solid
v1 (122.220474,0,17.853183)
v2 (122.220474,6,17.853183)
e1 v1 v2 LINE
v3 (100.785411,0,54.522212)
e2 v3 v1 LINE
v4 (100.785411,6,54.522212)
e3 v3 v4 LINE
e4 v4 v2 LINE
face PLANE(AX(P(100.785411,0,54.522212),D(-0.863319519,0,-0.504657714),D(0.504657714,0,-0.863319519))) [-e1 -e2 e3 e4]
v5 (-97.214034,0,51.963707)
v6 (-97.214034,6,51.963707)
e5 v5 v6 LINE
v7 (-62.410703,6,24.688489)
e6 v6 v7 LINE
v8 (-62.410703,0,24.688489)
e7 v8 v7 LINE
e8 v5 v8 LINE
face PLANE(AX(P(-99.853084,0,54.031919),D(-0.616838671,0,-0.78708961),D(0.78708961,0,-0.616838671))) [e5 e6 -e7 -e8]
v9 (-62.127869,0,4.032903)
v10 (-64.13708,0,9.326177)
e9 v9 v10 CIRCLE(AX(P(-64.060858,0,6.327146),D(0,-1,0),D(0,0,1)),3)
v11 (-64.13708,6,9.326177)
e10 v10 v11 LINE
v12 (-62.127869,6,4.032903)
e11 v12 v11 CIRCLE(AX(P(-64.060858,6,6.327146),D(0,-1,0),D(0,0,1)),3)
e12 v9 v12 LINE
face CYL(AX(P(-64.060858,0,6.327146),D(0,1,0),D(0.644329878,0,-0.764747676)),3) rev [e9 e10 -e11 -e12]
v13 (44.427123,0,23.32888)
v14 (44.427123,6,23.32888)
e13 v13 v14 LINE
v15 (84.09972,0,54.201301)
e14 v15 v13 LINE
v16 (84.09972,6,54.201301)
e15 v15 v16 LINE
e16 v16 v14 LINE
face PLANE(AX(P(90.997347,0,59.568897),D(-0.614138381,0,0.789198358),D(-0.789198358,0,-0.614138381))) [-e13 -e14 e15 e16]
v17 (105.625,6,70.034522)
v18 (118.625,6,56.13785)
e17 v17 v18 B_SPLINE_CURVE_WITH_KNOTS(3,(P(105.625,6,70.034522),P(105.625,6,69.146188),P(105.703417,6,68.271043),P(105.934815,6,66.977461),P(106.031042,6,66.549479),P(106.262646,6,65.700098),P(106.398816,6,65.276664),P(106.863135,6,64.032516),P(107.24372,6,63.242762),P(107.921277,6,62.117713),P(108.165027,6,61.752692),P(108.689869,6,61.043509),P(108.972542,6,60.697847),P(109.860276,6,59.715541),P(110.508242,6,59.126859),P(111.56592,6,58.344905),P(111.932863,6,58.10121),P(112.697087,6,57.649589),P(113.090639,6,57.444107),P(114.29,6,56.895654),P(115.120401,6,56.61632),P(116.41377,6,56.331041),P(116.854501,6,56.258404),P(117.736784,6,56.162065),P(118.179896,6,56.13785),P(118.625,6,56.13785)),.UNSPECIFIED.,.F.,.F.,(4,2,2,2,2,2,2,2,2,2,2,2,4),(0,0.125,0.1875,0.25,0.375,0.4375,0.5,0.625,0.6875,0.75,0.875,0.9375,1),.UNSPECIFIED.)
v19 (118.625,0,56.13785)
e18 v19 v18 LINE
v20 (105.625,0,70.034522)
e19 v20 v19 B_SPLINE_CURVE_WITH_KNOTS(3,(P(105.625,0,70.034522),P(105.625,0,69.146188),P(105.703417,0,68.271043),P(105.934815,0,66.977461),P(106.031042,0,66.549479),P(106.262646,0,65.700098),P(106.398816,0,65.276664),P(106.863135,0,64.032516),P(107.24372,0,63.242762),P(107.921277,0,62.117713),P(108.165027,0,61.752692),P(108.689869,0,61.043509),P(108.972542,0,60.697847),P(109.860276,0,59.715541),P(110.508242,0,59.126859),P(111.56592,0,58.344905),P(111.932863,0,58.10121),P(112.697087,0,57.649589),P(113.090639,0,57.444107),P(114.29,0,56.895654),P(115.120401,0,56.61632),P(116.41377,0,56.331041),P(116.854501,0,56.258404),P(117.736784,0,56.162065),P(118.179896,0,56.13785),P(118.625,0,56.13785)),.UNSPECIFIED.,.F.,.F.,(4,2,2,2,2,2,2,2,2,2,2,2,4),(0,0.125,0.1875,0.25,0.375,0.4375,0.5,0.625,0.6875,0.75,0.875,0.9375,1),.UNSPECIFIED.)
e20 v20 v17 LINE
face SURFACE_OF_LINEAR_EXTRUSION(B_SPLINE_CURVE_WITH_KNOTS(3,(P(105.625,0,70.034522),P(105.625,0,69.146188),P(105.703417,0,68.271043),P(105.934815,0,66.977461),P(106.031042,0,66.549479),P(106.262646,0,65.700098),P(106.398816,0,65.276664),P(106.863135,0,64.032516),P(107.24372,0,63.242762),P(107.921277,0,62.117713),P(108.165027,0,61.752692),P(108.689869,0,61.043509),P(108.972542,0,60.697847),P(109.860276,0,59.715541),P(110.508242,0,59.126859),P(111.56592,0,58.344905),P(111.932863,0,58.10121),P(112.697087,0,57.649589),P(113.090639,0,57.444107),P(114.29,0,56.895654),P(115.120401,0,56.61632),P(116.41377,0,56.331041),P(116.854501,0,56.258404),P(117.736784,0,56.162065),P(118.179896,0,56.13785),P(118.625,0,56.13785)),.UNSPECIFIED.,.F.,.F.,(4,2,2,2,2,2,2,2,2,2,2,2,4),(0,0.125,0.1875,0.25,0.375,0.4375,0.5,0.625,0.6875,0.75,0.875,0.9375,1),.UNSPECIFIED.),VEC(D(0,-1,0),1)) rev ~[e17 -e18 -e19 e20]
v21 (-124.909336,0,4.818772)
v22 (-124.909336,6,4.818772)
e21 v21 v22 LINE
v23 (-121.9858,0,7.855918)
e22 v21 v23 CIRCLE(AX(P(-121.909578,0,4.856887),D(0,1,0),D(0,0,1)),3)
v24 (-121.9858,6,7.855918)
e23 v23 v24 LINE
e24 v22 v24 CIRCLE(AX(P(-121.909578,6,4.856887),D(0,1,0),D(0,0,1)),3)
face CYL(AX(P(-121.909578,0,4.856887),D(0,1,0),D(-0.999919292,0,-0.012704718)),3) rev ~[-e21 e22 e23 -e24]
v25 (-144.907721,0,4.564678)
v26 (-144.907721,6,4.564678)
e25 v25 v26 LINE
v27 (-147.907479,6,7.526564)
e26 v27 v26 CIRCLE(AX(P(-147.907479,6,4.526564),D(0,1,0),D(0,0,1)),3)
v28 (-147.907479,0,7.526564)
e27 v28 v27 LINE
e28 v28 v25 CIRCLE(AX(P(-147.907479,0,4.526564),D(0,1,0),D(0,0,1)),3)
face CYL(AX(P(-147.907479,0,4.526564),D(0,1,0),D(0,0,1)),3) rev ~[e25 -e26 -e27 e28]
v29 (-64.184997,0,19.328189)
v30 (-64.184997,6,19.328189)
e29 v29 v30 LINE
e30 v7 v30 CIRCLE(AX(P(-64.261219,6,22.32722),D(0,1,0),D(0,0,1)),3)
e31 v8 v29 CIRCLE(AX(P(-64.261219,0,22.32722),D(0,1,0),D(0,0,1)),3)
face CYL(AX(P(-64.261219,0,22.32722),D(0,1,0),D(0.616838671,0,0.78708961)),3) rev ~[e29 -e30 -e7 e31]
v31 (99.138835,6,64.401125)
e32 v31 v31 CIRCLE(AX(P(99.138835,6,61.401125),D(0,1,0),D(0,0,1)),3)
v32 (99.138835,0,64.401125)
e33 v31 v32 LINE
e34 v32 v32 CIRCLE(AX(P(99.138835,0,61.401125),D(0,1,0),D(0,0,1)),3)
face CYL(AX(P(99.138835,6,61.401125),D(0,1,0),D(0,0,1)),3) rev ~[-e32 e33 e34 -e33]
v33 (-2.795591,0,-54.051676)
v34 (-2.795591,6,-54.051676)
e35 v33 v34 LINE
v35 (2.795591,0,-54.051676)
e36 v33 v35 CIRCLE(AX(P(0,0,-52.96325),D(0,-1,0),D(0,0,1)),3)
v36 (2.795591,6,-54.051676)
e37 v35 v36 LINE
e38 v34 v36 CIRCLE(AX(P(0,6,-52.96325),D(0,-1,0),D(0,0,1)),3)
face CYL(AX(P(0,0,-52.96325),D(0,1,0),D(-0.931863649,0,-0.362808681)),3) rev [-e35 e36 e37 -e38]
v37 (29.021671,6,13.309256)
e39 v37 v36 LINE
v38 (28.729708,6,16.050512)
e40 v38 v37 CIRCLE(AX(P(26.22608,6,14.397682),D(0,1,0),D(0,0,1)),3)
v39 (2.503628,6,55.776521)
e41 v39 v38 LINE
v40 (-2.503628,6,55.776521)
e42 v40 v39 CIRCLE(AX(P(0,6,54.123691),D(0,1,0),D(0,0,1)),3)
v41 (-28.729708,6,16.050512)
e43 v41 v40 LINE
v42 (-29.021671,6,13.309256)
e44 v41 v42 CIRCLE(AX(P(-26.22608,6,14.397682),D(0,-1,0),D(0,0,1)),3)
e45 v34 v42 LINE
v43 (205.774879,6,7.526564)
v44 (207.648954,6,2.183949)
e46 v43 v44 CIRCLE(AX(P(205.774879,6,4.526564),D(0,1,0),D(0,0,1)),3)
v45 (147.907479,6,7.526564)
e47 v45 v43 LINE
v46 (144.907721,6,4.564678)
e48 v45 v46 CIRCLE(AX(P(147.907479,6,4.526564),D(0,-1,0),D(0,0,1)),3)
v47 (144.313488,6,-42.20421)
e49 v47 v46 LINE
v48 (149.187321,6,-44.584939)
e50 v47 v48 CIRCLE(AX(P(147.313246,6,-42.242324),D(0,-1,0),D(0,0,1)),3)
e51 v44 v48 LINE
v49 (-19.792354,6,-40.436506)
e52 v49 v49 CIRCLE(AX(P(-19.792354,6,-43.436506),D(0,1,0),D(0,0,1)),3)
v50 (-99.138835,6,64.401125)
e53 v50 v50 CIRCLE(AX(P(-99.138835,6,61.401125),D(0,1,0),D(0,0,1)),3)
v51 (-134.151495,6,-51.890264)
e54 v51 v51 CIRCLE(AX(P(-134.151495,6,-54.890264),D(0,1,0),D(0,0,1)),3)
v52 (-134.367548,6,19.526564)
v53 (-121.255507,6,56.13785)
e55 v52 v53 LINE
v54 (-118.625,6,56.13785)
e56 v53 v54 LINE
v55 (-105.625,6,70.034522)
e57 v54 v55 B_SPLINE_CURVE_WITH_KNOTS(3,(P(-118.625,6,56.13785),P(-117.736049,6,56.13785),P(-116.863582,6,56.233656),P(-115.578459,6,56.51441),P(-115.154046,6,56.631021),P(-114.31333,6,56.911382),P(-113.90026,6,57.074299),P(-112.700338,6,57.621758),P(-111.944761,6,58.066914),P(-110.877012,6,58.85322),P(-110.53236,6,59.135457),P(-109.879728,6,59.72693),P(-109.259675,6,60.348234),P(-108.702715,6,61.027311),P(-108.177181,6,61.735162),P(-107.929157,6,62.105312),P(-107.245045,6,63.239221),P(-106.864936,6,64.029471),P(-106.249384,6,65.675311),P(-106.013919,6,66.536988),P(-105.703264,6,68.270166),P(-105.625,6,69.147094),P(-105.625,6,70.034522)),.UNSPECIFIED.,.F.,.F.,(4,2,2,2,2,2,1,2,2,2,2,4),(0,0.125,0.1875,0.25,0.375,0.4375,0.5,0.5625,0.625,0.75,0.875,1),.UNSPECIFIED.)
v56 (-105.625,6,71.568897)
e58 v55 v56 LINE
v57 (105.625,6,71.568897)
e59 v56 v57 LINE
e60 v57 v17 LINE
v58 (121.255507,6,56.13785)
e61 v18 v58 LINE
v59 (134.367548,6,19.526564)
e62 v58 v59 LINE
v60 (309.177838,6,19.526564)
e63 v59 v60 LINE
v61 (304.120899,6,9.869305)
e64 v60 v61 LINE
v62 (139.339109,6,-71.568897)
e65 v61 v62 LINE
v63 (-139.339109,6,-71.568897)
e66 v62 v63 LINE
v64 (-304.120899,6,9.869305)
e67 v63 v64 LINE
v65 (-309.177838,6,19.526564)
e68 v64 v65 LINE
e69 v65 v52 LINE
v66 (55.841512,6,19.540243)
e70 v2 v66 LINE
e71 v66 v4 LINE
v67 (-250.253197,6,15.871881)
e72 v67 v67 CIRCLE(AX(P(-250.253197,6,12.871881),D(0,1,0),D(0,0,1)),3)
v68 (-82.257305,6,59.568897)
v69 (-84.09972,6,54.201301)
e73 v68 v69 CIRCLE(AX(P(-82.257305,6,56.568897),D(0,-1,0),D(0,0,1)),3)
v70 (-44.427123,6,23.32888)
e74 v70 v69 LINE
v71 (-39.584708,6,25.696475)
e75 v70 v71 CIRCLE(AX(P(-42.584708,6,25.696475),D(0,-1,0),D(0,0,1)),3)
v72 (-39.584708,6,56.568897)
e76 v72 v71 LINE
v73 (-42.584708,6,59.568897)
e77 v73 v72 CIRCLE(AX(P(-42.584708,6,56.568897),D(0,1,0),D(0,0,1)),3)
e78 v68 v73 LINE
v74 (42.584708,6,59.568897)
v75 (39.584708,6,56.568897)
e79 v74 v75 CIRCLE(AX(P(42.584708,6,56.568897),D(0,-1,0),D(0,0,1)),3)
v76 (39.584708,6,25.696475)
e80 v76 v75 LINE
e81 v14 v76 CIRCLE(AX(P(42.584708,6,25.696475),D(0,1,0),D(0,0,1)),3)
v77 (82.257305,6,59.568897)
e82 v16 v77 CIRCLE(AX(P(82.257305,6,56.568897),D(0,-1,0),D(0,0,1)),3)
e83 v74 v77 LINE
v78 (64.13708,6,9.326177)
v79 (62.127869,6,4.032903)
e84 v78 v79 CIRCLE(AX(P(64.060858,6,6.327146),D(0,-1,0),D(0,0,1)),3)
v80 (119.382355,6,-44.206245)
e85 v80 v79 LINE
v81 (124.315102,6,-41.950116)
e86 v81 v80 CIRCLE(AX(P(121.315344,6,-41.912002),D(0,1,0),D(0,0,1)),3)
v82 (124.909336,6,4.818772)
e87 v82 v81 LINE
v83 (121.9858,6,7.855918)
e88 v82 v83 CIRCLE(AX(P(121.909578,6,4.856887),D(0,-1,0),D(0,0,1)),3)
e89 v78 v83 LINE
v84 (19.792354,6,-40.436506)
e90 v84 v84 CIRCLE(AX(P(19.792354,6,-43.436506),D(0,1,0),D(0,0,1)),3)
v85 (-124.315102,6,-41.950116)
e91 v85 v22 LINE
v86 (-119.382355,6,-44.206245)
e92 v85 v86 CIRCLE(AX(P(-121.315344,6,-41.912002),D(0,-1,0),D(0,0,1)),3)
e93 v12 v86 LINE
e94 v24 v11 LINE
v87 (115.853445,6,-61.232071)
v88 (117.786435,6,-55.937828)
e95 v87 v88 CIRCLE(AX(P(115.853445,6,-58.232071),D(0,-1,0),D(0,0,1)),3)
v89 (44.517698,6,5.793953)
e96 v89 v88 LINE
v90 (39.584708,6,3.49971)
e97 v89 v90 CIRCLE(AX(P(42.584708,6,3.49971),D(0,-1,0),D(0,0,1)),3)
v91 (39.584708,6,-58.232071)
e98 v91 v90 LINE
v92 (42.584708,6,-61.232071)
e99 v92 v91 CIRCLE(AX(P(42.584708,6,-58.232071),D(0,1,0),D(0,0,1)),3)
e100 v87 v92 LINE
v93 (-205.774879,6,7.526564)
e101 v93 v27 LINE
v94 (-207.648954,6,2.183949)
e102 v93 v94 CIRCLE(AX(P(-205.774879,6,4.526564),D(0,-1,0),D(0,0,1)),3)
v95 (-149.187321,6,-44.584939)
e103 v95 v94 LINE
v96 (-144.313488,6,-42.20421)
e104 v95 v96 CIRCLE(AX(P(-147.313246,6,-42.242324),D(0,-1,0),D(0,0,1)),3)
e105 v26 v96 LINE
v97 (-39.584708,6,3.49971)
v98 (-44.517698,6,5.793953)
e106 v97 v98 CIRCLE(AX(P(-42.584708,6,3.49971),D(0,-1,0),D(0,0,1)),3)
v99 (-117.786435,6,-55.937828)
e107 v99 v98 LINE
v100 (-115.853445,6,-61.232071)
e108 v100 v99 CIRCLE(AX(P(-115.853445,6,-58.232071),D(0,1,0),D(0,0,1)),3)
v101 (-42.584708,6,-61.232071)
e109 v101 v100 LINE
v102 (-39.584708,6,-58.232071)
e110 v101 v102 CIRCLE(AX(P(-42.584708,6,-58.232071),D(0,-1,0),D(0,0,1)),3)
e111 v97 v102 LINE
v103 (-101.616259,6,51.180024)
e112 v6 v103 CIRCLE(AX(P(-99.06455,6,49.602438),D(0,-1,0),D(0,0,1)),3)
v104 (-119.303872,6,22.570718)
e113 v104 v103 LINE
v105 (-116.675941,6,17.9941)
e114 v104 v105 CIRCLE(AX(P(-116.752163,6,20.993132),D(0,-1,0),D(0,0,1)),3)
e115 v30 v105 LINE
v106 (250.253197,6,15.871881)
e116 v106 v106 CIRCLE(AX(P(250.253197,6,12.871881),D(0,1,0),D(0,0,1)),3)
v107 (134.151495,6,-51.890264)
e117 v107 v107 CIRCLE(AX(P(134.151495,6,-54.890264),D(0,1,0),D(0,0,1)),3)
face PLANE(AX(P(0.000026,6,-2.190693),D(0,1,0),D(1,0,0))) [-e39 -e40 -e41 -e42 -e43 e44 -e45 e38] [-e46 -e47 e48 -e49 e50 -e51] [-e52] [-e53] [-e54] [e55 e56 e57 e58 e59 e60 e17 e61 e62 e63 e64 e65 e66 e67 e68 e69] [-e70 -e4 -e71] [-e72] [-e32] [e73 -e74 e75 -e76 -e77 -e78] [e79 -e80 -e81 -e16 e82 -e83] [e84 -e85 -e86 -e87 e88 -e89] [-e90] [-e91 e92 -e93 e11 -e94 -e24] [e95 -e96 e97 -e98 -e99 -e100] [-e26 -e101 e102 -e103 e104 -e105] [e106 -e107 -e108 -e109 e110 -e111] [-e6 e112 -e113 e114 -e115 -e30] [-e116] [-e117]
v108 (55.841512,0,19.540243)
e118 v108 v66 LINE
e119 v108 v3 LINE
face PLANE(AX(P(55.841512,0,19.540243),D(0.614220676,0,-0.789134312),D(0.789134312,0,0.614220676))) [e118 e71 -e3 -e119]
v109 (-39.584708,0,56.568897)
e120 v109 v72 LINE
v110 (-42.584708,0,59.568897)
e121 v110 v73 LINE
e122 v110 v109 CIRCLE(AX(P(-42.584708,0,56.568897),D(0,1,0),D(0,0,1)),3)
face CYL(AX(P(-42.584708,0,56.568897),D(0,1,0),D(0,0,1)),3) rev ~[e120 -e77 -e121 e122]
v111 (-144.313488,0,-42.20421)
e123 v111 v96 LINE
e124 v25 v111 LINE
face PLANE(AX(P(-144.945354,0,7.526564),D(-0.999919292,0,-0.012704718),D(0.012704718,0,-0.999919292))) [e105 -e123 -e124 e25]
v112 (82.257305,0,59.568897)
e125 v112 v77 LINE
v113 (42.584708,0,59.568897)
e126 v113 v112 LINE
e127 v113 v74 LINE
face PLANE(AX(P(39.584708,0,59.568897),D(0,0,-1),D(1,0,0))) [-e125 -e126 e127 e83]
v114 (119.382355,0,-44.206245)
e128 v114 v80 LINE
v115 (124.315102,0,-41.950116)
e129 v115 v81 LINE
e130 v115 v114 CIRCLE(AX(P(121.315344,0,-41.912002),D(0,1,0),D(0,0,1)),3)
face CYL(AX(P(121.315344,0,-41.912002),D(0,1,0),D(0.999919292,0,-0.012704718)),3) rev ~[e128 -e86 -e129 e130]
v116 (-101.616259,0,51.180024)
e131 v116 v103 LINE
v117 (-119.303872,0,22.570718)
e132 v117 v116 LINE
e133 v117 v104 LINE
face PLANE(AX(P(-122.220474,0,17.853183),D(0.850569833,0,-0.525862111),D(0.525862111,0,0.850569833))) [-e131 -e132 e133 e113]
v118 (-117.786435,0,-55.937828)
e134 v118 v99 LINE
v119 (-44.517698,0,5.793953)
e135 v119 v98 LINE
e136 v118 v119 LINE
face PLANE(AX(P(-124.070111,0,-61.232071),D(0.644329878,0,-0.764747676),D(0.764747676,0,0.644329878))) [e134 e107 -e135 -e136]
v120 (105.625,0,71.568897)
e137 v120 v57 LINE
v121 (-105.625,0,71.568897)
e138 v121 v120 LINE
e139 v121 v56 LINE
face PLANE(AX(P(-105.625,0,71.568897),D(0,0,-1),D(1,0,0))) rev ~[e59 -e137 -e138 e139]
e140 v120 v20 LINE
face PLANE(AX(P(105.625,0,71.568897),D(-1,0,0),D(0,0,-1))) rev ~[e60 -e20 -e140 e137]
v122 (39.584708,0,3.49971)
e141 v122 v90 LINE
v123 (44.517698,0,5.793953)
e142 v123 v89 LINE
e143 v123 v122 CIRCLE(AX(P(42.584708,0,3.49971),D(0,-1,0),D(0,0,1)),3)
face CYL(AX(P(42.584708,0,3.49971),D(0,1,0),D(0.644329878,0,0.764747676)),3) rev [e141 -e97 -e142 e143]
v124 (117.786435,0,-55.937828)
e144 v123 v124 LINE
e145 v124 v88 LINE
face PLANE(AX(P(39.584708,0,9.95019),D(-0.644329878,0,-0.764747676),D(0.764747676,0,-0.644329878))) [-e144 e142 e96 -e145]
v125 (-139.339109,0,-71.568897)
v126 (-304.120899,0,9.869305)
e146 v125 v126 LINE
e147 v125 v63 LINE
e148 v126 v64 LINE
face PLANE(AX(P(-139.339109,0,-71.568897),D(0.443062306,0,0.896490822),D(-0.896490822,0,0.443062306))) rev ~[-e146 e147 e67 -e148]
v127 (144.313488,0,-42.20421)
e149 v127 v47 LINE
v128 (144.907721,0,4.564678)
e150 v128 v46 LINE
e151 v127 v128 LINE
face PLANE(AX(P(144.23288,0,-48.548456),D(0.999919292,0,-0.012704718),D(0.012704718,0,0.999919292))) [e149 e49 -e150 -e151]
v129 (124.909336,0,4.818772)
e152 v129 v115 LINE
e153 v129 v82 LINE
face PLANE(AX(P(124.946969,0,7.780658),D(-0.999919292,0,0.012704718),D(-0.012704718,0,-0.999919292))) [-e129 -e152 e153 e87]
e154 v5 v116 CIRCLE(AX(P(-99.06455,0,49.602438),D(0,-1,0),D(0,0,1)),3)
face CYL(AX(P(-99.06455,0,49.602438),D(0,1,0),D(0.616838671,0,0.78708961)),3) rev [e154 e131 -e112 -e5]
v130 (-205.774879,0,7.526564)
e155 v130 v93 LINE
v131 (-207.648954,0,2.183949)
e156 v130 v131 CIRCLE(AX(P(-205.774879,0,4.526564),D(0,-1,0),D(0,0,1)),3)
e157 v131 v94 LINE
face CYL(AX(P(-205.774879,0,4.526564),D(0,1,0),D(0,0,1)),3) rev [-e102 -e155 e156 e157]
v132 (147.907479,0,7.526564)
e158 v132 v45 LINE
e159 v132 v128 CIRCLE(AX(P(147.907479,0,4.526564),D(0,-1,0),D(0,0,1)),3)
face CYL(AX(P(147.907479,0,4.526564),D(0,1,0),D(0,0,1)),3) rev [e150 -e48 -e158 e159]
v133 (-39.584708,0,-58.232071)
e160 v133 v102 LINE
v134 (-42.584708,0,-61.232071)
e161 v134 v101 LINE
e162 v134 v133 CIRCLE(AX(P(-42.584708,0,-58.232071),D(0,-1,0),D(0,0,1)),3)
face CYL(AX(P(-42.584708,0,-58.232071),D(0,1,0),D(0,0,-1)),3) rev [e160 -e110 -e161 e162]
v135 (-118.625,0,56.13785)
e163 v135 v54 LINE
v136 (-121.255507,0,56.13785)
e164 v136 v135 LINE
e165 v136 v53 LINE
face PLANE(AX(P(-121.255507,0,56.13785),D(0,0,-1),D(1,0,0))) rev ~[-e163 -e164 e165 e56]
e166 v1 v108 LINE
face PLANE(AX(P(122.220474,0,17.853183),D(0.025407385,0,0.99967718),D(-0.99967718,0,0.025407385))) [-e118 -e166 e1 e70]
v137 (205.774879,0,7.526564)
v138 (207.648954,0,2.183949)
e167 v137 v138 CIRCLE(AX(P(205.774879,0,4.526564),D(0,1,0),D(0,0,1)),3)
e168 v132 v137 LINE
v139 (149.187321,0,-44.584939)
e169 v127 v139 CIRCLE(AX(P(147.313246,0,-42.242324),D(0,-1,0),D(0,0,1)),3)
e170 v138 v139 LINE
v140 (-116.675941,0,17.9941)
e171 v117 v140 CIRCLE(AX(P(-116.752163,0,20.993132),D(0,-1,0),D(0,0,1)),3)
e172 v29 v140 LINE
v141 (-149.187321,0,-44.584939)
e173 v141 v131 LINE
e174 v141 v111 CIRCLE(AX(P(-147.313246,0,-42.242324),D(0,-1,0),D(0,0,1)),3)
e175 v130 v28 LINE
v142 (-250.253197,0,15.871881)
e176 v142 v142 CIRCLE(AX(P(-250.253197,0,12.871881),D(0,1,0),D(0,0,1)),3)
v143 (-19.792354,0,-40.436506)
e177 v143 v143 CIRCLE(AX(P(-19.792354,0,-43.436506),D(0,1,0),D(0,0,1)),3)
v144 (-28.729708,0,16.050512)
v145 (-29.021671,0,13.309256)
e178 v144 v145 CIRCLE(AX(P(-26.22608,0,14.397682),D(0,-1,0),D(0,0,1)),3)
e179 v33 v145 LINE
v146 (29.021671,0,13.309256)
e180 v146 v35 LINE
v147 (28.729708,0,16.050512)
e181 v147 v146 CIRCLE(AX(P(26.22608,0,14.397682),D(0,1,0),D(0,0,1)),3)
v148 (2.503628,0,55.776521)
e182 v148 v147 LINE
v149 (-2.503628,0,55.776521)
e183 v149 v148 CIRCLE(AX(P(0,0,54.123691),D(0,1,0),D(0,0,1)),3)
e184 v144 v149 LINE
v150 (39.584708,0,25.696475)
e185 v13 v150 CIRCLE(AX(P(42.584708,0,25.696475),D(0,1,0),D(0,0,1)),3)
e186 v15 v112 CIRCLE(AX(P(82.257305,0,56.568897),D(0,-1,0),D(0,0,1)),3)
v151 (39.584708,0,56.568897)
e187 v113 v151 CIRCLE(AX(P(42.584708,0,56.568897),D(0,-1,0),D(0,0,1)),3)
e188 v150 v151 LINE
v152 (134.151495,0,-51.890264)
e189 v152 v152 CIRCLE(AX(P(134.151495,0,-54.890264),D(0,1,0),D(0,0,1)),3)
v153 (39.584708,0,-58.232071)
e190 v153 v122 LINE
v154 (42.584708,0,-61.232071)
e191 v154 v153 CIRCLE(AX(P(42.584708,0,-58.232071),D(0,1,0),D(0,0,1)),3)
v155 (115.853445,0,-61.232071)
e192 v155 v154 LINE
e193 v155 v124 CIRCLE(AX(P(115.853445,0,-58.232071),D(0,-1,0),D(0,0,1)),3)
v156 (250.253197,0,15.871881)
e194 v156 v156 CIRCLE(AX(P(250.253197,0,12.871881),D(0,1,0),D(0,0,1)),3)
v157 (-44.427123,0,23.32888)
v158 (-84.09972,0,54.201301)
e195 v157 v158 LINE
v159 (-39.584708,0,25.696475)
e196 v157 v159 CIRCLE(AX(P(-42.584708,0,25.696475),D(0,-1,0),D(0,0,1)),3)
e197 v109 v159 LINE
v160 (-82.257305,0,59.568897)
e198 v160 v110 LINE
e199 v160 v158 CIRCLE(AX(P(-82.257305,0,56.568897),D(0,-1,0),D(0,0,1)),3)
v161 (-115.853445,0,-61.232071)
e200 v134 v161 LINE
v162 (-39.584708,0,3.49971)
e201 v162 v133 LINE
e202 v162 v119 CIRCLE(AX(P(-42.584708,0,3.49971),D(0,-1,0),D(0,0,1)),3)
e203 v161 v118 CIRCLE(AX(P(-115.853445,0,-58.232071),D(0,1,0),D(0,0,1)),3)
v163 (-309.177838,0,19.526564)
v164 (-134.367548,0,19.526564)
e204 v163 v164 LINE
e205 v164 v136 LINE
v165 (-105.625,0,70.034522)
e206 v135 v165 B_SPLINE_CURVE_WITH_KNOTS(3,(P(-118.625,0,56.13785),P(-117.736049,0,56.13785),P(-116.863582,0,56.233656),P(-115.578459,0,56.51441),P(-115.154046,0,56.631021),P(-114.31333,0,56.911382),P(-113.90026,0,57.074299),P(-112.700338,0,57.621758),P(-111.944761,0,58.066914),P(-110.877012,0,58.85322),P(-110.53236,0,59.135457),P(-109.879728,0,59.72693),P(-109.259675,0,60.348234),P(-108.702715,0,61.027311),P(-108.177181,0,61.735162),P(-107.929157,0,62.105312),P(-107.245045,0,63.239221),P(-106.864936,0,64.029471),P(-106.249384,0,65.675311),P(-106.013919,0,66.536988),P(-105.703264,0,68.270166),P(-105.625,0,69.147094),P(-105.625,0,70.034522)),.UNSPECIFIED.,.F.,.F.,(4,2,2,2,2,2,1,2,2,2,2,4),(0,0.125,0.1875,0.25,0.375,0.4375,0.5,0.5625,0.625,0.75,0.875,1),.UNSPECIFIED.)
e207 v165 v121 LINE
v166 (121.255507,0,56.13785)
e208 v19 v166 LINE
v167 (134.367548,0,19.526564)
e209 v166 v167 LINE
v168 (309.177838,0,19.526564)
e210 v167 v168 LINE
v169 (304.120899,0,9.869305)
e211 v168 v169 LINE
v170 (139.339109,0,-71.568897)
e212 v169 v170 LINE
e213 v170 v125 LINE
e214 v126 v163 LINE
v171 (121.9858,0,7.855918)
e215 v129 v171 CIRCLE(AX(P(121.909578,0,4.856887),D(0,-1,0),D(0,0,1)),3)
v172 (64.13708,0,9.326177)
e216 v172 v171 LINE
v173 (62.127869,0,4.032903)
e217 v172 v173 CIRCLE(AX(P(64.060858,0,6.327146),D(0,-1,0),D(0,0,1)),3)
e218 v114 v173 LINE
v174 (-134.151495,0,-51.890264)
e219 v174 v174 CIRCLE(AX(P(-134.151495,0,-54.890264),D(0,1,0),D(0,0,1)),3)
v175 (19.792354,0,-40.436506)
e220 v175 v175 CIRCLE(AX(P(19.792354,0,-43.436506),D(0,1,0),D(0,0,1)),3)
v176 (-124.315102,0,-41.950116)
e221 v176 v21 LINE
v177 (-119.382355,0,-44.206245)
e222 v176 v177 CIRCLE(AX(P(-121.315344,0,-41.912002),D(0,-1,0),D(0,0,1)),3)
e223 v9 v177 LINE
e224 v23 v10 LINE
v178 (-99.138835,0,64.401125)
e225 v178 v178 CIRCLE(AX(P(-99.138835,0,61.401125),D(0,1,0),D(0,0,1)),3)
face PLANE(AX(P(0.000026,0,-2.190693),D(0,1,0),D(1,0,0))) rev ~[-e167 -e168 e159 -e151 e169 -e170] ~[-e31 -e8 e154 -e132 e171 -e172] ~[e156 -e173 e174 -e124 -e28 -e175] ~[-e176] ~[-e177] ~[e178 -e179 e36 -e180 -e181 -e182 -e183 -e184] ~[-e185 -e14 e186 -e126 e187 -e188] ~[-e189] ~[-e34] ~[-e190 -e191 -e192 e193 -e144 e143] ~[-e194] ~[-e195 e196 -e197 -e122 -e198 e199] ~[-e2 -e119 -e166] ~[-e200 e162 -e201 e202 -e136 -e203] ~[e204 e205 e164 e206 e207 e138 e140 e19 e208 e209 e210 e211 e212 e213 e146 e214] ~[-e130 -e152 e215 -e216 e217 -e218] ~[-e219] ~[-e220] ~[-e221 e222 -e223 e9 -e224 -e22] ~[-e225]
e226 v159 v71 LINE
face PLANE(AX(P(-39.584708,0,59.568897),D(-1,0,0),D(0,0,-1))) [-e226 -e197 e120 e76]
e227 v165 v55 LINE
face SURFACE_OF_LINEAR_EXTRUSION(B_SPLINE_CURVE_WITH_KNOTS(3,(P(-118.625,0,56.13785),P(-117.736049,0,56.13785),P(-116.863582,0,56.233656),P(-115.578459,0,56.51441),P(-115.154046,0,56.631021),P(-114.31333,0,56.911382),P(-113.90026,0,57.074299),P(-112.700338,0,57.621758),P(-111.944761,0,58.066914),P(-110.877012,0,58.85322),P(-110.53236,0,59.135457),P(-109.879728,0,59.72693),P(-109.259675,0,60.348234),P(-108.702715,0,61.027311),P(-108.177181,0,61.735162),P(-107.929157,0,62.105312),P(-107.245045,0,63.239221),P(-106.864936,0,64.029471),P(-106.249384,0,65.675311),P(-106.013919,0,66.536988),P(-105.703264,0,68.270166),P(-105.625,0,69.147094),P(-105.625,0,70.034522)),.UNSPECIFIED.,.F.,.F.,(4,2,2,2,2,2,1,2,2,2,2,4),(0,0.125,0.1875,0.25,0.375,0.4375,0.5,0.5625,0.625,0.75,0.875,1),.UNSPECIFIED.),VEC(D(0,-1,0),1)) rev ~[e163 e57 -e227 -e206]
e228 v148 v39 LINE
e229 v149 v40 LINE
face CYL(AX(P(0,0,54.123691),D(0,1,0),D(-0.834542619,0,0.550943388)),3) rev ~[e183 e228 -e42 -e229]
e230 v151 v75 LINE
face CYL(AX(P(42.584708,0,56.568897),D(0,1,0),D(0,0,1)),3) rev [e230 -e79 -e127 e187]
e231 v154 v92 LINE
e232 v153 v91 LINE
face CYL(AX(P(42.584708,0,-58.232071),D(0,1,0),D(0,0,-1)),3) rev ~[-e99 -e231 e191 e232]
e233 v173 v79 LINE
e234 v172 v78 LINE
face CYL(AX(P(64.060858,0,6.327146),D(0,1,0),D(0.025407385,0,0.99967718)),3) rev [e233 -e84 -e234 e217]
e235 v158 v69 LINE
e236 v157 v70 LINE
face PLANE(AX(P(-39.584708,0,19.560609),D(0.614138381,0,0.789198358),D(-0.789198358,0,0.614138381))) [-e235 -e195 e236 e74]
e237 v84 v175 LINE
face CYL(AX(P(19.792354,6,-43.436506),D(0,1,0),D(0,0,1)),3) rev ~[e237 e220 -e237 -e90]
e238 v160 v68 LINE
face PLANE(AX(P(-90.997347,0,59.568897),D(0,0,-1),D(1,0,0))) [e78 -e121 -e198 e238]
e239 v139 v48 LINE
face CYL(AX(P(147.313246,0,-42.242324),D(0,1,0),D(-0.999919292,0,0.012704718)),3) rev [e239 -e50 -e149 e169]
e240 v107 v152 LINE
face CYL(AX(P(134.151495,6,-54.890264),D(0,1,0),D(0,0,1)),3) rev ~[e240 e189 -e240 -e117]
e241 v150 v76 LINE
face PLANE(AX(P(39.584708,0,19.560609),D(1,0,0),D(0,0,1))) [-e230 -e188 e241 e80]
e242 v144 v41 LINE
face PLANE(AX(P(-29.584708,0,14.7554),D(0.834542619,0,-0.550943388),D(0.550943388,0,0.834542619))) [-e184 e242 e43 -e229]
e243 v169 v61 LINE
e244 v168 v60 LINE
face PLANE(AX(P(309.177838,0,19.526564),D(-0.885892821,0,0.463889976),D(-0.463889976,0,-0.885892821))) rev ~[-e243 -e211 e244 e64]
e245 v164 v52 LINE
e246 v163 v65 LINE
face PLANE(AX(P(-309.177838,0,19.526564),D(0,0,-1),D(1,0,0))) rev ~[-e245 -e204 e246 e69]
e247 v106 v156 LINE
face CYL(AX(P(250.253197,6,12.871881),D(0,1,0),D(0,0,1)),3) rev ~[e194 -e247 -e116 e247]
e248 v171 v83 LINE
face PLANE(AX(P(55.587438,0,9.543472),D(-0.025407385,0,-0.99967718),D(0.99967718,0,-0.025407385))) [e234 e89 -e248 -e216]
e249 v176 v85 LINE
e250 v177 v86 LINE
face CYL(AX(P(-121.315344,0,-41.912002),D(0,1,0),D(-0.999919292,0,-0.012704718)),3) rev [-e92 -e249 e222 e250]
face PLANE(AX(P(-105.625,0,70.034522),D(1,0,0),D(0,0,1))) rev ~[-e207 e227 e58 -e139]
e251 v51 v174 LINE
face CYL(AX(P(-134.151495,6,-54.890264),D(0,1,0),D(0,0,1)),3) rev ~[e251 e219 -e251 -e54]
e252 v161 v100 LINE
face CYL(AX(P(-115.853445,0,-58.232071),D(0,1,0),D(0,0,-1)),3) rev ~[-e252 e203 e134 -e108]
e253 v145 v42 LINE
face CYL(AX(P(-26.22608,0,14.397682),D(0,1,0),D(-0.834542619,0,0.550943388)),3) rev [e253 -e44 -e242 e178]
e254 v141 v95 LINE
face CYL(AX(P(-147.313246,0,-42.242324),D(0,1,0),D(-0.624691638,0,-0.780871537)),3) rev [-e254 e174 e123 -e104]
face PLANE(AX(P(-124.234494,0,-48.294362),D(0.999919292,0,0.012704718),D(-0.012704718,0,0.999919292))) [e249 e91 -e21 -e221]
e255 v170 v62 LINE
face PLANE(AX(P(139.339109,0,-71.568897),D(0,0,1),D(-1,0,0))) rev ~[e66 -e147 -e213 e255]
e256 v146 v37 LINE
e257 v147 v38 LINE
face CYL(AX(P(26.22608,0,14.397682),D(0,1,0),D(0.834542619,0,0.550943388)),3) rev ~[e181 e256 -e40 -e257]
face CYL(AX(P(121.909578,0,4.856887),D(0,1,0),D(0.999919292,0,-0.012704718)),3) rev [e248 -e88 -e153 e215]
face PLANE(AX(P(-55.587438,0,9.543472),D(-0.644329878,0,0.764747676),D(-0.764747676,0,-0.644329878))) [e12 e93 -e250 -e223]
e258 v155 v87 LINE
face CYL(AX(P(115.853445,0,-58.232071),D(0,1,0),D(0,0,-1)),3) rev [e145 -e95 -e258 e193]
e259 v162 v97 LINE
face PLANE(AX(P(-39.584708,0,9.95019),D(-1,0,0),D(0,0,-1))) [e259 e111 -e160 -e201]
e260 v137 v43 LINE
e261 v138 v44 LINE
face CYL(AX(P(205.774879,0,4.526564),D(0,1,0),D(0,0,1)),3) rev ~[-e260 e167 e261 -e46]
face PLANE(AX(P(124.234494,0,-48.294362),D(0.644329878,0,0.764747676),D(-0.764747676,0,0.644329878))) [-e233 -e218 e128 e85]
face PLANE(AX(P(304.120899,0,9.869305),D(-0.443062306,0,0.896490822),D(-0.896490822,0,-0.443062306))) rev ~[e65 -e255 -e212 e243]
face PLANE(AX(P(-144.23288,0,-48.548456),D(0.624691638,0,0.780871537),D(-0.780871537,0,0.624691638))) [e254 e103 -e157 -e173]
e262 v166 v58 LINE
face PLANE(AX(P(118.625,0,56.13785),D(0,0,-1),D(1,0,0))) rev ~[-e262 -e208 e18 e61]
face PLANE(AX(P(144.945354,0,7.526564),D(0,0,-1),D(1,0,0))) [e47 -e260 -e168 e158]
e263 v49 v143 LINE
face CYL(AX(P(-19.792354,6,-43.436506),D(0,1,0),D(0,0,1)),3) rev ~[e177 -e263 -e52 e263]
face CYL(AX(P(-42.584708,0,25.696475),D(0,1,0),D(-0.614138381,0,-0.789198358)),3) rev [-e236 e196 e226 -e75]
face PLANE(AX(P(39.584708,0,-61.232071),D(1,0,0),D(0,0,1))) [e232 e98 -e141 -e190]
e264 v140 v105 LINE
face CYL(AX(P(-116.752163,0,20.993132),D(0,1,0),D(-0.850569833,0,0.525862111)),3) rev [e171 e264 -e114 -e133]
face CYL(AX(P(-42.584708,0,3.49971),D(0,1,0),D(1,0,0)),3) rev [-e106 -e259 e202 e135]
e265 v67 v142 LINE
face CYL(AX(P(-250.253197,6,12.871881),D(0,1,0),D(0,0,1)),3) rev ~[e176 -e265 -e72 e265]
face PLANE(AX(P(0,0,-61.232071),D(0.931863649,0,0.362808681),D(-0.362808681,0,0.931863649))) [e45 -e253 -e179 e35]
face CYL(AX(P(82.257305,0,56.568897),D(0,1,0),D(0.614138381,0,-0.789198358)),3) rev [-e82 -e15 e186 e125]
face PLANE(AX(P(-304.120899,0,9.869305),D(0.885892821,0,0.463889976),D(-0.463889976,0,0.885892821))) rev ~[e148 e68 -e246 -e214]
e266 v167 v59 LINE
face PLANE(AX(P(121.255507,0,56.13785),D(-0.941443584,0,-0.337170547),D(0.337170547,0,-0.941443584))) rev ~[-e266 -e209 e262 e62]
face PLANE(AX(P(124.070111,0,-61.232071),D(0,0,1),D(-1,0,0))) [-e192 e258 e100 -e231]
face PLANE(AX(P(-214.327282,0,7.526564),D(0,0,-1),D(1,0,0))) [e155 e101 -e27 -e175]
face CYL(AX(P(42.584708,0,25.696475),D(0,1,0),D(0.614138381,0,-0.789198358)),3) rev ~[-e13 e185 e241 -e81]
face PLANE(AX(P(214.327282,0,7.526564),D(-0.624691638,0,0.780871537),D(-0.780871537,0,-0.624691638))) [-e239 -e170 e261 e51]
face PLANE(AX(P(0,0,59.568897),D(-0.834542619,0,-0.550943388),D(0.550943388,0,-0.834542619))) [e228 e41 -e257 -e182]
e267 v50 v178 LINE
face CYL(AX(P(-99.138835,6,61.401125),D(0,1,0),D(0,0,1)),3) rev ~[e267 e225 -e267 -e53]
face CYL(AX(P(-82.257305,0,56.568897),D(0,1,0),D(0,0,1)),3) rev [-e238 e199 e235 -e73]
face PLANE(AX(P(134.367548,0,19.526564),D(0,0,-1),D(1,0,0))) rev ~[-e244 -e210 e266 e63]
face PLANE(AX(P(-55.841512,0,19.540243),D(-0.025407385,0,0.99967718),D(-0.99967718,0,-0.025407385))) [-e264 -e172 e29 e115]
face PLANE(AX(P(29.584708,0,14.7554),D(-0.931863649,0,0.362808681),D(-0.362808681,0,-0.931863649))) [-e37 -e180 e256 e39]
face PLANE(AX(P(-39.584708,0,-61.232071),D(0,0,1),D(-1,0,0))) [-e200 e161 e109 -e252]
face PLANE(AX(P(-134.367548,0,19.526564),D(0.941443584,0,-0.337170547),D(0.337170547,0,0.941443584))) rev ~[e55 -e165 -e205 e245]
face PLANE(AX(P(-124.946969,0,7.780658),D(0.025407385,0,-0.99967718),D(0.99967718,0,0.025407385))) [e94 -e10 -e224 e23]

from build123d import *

# Parameters (mm, degrees)
EXTRUDE_1_DEPTH     = 6
SKETCH_2_R          = 3
CUT_EXTRUDE_1_DEPTH = 318.409896722
FILLET_1_R          = 3


with BuildPart() as part:
    # Эскиз1 → Бобышка-Вытянуть1 (new body)
    with BuildSketch(Plane(origin=(0, 0, 0), x_dir=(1, 0, 0), z_dir=(0, 1, 0))):
        with BuildLine():
            Line((309.177837991, -19.526563843), (304.1208994, -9.869304954))
            Line((304.1208994, -9.869304954), (139.339108595, 71.568896564))
            Line((139.339108595, 71.568896564), (-139.339108595, 71.568896564))
            Line((-139.339108595, 71.568896564), (-304.1208994, -9.869304954))
            Line((-304.1208994, -9.869304954), (-309.177837991, -19.526563843))
            Line((-309.177837991, -19.526563843), (-134.367548184, -19.526563843))
            Line((-134.367548184, -19.526563843), (-121.255506601, -56.137850168))
            Line((-121.255506601, -56.137850168), (-118.625, -56.137850168))
            add(Edge.make_bspline(
                [(-118.625, -56.137850168), (-117.73604939, -56.137850168), (-116.863581866, -56.233656219), (-115.578458559, -56.514409609), (-115.154045806, -56.631020903), (-114.313330245, -56.91138161), (-113.900260231, -57.074299025), (-112.700337662, -57.62175838), (-111.944761063, -58.066913832), (-110.877012416, -58.853219635), (-110.532359667, -59.135456666), (-109.879727858, -59.72693005), (-109.259674848, -60.348234431), (-108.702715184, -61.027310664), (-108.177181377, -61.735162196), (-107.929156775, -62.105311768), (-107.245045383, -63.239220647), (-106.864936074, -64.029470546), (-106.249383942, -65.67531101), (-106.013919219, -66.536987879), (-105.703263791, -68.270165649), (-105.625, -69.14709382), (-105.625, -70.034522256)],
                knots=[0, 0, 0, 0, 0.125, 0.125, 0.1875, 0.1875, 0.25, 0.25, 0.375, 0.375, 0.4375, 0.4375, 0.5, 0.5625, 0.5625, 0.625, 0.625, 0.75, 0.75, 0.875, 0.875, 1, 1, 1, 1], degree=3))
            Line((-105.625, -70.034522256), (-105.625, -71.568896564))
            Line((-105.625, -71.568896564), (105.625, -71.568896564))
            Line((105.625, -71.568896564), (105.625, -70.034522256))
            add(Edge.make_bspline(
                [(105.625, -70.034522256), (105.625, -69.146188417), (105.703417019, -68.271043449), (105.934814701, -66.977461208), (106.031042325, -66.549478705), (106.262646487, -65.700098111), (106.398816423, -65.276664427), (106.863134882, -64.032516396), (107.243720136, -63.242761719), (107.92127714, -62.117712579), (108.165026803, -61.75269229), (108.68986891, -61.043508559), (108.97254159, -60.69784736), (109.860275675, -59.715540738), (110.508242307, -59.12685949), (111.565919809, -58.344904551), (111.932862686, -58.101210315), (112.6970874, -57.649589406), (113.090639287, -57.444106887), (114.289999629, -56.895653779), (115.12040105, -56.616320302), (116.41376972, -56.331041481), (116.854501373, -56.258404071), (117.736783928, -56.162064753), (118.179895928, -56.137850168), (118.625, -56.137850168)],
                knots=[0, 0, 0, 0, 0.125, 0.125, 0.1875, 0.1875, 0.25, 0.25, 0.375, 0.375, 0.4375, 0.4375, 0.5, 0.5, 0.625, 0.625, 0.6875, 0.6875, 0.75, 0.75, 0.875, 0.875, 0.9375, 0.9375, 1, 1, 1, 1], degree=3))
            Line((118.625, -56.137850168), (121.255506601, -56.137850168))
            Line((121.255506601, -56.137850168), (134.367548184, -19.526563843))
            Line((134.367548184, -19.526563843), (309.177837991, -19.526563843))
        make_face()
        Polygon((-214.327282353, -7.526563843), (-144.945354376, -7.526563843), (-144.232879574, 48.548456393), align=None, mode=Mode.SUBTRACT)
        Polygon((-124.234493737, 48.29436204), (-124.94696854, -7.780658197), (-55.587438417, -9.543471524), align=None, mode=Mode.SUBTRACT)
        Polygon((-39.584708108, 61.232071167), (-124.070110529, 61.232071167), (-39.584708108, -9.950190344), align=None, mode=Mode.SUBTRACT)
        Polygon((-29.584708108, -14.755399706), (0, -59.568896564), (29.584708108, -14.755399706), (0, 61.232071167), align=None, mode=Mode.SUBTRACT)
        Polygon((-90.997346953, -59.568896564), (-39.584708108, -59.568896564), (-39.584708108, -19.560609068), align=None, mode=Mode.SUBTRACT)
        Polygon((-99.853084476, -54.031919172), (-55.841512263, -19.540243327), (-122.220473813, -17.853182906), align=None, mode=Mode.SUBTRACT)
        Polygon((124.070110529, 61.232071167), (39.584708108, 61.232071167), (39.584708108, -9.950190344), align=None, mode=Mode.SUBTRACT)
        Polygon((124.94696854, -7.780658197), (124.234493737, 48.29436204), (55.587438417, -9.543471524), align=None, mode=Mode.SUBTRACT)
        Polygon((100.785410724, -54.522211893), (122.220473813, -17.853182906), (55.841512263, -19.540243327), align=None, mode=Mode.SUBTRACT)
        Polygon((90.997346953, -59.568896564), (39.584708108, -19.560609068), (39.584708108, -59.568896564), align=None, mode=Mode.SUBTRACT)
        Polygon((144.945354376, -7.526563843), (214.327282353, -7.526563843), (144.232879574, 48.548456393), align=None, mode=Mode.SUBTRACT)
    extrude(amount=EXTRUDE_1_DEPTH)

    # Эскиз2 → Вырез-Вытянуть1 (cut, through all)
    with BuildSketch(Plane(origin=(0, 6, 0), x_dir=(1, 0, 0), z_dir=(0, 1, 0))):
        with Locations(Location((-250.253196754, -12.871881409, 0), (0, 0, 270))):
            Circle(SKETCH_2_R)
        with Locations(Location((-134.151495051, 54.89026378, 0), (0, 0, 270))):
            Circle(SKETCH_2_R)
        with Locations(Location((-99.138834526, -61.401125149, 0), (0, 0, 270))):
            Circle(SKETCH_2_R)
        with Locations(Location((-19.792354054, 43.436505789, 0), (0, 0, 270))):
            Circle(SKETCH_2_R)
        with Locations(Location((19.792354054, 43.436505789, 0), (0, 0, 270))):
            Circle(SKETCH_2_R)
        with Locations(Location((99.138834526, -61.401125149, 0), (0, 0, 270))):
            Circle(SKETCH_2_R)
        with Locations(Location((134.151495051, 54.89026378, 0), (0, 0, 270))):
            Circle(SKETCH_2_R)
        with Locations(Location((250.253196754, -12.871881409, 0), (0, 0, 270))):
            Circle(SKETCH_2_R)
    extrude(amount=-CUT_EXTRUDE_1_DEPTH, mode=Mode.SUBTRACT)

    # Скругление1
    fillet_1_edges = [part.edges().sort_by_distance(p)[0] for p in [
        (-122.220473813, 3, 17.853182906),
        (-99.853084476, 3, 54.031919172),
        (-55.841512263, 3, 19.540243327),
        (39.584708108, 3, 9.950190344),
        (124.070110529, 3, -61.232071167),
        (39.584708108, 3, -61.232071167),
        (55.587438417, 3, 9.543471524),
        (124.94696854, 3, 7.780658197),
        (124.234493737, 3, -48.29436204),
        (39.584708108, 3, 59.568896564),
        (90.997346953, 3, 59.568896564),
        (39.584708108, 3, 19.560609068),
        (144.232879574, 3, -48.548456393),
        (144.945354376, 3, 7.526563843),
        (214.327282353, 3, 7.526563843),
        (-144.232879574, 3, -48.548456393),
        (-214.327282353, 3, 7.526563843),
        (-144.945354376, 3, 7.526563843),
        (-55.587438417, 3, 9.543471524),
        (-124.234493737, 3, -48.29436204),
        (-124.94696854, 3, 7.780658197),
        (-39.584708108, 3, 9.950190344),
        (-39.584708108, 3, -61.232071167),
        (-124.070110529, 3, -61.232071167),
        (0, 3, -61.232071167),
        (-29.584708108, 3, 14.755399706),
        (0, 3, 59.568896564),
        (29.584708108, 3, 14.755399706),
        (-39.584708108, 3, 19.560609068),
        (-90.997346953, 3, 59.568896564),
        (-39.584708108, 3, 59.568896564),
    ]]
    fillet(fillet_1_edges, radius=FILLET_1_R)


solid = part.part
